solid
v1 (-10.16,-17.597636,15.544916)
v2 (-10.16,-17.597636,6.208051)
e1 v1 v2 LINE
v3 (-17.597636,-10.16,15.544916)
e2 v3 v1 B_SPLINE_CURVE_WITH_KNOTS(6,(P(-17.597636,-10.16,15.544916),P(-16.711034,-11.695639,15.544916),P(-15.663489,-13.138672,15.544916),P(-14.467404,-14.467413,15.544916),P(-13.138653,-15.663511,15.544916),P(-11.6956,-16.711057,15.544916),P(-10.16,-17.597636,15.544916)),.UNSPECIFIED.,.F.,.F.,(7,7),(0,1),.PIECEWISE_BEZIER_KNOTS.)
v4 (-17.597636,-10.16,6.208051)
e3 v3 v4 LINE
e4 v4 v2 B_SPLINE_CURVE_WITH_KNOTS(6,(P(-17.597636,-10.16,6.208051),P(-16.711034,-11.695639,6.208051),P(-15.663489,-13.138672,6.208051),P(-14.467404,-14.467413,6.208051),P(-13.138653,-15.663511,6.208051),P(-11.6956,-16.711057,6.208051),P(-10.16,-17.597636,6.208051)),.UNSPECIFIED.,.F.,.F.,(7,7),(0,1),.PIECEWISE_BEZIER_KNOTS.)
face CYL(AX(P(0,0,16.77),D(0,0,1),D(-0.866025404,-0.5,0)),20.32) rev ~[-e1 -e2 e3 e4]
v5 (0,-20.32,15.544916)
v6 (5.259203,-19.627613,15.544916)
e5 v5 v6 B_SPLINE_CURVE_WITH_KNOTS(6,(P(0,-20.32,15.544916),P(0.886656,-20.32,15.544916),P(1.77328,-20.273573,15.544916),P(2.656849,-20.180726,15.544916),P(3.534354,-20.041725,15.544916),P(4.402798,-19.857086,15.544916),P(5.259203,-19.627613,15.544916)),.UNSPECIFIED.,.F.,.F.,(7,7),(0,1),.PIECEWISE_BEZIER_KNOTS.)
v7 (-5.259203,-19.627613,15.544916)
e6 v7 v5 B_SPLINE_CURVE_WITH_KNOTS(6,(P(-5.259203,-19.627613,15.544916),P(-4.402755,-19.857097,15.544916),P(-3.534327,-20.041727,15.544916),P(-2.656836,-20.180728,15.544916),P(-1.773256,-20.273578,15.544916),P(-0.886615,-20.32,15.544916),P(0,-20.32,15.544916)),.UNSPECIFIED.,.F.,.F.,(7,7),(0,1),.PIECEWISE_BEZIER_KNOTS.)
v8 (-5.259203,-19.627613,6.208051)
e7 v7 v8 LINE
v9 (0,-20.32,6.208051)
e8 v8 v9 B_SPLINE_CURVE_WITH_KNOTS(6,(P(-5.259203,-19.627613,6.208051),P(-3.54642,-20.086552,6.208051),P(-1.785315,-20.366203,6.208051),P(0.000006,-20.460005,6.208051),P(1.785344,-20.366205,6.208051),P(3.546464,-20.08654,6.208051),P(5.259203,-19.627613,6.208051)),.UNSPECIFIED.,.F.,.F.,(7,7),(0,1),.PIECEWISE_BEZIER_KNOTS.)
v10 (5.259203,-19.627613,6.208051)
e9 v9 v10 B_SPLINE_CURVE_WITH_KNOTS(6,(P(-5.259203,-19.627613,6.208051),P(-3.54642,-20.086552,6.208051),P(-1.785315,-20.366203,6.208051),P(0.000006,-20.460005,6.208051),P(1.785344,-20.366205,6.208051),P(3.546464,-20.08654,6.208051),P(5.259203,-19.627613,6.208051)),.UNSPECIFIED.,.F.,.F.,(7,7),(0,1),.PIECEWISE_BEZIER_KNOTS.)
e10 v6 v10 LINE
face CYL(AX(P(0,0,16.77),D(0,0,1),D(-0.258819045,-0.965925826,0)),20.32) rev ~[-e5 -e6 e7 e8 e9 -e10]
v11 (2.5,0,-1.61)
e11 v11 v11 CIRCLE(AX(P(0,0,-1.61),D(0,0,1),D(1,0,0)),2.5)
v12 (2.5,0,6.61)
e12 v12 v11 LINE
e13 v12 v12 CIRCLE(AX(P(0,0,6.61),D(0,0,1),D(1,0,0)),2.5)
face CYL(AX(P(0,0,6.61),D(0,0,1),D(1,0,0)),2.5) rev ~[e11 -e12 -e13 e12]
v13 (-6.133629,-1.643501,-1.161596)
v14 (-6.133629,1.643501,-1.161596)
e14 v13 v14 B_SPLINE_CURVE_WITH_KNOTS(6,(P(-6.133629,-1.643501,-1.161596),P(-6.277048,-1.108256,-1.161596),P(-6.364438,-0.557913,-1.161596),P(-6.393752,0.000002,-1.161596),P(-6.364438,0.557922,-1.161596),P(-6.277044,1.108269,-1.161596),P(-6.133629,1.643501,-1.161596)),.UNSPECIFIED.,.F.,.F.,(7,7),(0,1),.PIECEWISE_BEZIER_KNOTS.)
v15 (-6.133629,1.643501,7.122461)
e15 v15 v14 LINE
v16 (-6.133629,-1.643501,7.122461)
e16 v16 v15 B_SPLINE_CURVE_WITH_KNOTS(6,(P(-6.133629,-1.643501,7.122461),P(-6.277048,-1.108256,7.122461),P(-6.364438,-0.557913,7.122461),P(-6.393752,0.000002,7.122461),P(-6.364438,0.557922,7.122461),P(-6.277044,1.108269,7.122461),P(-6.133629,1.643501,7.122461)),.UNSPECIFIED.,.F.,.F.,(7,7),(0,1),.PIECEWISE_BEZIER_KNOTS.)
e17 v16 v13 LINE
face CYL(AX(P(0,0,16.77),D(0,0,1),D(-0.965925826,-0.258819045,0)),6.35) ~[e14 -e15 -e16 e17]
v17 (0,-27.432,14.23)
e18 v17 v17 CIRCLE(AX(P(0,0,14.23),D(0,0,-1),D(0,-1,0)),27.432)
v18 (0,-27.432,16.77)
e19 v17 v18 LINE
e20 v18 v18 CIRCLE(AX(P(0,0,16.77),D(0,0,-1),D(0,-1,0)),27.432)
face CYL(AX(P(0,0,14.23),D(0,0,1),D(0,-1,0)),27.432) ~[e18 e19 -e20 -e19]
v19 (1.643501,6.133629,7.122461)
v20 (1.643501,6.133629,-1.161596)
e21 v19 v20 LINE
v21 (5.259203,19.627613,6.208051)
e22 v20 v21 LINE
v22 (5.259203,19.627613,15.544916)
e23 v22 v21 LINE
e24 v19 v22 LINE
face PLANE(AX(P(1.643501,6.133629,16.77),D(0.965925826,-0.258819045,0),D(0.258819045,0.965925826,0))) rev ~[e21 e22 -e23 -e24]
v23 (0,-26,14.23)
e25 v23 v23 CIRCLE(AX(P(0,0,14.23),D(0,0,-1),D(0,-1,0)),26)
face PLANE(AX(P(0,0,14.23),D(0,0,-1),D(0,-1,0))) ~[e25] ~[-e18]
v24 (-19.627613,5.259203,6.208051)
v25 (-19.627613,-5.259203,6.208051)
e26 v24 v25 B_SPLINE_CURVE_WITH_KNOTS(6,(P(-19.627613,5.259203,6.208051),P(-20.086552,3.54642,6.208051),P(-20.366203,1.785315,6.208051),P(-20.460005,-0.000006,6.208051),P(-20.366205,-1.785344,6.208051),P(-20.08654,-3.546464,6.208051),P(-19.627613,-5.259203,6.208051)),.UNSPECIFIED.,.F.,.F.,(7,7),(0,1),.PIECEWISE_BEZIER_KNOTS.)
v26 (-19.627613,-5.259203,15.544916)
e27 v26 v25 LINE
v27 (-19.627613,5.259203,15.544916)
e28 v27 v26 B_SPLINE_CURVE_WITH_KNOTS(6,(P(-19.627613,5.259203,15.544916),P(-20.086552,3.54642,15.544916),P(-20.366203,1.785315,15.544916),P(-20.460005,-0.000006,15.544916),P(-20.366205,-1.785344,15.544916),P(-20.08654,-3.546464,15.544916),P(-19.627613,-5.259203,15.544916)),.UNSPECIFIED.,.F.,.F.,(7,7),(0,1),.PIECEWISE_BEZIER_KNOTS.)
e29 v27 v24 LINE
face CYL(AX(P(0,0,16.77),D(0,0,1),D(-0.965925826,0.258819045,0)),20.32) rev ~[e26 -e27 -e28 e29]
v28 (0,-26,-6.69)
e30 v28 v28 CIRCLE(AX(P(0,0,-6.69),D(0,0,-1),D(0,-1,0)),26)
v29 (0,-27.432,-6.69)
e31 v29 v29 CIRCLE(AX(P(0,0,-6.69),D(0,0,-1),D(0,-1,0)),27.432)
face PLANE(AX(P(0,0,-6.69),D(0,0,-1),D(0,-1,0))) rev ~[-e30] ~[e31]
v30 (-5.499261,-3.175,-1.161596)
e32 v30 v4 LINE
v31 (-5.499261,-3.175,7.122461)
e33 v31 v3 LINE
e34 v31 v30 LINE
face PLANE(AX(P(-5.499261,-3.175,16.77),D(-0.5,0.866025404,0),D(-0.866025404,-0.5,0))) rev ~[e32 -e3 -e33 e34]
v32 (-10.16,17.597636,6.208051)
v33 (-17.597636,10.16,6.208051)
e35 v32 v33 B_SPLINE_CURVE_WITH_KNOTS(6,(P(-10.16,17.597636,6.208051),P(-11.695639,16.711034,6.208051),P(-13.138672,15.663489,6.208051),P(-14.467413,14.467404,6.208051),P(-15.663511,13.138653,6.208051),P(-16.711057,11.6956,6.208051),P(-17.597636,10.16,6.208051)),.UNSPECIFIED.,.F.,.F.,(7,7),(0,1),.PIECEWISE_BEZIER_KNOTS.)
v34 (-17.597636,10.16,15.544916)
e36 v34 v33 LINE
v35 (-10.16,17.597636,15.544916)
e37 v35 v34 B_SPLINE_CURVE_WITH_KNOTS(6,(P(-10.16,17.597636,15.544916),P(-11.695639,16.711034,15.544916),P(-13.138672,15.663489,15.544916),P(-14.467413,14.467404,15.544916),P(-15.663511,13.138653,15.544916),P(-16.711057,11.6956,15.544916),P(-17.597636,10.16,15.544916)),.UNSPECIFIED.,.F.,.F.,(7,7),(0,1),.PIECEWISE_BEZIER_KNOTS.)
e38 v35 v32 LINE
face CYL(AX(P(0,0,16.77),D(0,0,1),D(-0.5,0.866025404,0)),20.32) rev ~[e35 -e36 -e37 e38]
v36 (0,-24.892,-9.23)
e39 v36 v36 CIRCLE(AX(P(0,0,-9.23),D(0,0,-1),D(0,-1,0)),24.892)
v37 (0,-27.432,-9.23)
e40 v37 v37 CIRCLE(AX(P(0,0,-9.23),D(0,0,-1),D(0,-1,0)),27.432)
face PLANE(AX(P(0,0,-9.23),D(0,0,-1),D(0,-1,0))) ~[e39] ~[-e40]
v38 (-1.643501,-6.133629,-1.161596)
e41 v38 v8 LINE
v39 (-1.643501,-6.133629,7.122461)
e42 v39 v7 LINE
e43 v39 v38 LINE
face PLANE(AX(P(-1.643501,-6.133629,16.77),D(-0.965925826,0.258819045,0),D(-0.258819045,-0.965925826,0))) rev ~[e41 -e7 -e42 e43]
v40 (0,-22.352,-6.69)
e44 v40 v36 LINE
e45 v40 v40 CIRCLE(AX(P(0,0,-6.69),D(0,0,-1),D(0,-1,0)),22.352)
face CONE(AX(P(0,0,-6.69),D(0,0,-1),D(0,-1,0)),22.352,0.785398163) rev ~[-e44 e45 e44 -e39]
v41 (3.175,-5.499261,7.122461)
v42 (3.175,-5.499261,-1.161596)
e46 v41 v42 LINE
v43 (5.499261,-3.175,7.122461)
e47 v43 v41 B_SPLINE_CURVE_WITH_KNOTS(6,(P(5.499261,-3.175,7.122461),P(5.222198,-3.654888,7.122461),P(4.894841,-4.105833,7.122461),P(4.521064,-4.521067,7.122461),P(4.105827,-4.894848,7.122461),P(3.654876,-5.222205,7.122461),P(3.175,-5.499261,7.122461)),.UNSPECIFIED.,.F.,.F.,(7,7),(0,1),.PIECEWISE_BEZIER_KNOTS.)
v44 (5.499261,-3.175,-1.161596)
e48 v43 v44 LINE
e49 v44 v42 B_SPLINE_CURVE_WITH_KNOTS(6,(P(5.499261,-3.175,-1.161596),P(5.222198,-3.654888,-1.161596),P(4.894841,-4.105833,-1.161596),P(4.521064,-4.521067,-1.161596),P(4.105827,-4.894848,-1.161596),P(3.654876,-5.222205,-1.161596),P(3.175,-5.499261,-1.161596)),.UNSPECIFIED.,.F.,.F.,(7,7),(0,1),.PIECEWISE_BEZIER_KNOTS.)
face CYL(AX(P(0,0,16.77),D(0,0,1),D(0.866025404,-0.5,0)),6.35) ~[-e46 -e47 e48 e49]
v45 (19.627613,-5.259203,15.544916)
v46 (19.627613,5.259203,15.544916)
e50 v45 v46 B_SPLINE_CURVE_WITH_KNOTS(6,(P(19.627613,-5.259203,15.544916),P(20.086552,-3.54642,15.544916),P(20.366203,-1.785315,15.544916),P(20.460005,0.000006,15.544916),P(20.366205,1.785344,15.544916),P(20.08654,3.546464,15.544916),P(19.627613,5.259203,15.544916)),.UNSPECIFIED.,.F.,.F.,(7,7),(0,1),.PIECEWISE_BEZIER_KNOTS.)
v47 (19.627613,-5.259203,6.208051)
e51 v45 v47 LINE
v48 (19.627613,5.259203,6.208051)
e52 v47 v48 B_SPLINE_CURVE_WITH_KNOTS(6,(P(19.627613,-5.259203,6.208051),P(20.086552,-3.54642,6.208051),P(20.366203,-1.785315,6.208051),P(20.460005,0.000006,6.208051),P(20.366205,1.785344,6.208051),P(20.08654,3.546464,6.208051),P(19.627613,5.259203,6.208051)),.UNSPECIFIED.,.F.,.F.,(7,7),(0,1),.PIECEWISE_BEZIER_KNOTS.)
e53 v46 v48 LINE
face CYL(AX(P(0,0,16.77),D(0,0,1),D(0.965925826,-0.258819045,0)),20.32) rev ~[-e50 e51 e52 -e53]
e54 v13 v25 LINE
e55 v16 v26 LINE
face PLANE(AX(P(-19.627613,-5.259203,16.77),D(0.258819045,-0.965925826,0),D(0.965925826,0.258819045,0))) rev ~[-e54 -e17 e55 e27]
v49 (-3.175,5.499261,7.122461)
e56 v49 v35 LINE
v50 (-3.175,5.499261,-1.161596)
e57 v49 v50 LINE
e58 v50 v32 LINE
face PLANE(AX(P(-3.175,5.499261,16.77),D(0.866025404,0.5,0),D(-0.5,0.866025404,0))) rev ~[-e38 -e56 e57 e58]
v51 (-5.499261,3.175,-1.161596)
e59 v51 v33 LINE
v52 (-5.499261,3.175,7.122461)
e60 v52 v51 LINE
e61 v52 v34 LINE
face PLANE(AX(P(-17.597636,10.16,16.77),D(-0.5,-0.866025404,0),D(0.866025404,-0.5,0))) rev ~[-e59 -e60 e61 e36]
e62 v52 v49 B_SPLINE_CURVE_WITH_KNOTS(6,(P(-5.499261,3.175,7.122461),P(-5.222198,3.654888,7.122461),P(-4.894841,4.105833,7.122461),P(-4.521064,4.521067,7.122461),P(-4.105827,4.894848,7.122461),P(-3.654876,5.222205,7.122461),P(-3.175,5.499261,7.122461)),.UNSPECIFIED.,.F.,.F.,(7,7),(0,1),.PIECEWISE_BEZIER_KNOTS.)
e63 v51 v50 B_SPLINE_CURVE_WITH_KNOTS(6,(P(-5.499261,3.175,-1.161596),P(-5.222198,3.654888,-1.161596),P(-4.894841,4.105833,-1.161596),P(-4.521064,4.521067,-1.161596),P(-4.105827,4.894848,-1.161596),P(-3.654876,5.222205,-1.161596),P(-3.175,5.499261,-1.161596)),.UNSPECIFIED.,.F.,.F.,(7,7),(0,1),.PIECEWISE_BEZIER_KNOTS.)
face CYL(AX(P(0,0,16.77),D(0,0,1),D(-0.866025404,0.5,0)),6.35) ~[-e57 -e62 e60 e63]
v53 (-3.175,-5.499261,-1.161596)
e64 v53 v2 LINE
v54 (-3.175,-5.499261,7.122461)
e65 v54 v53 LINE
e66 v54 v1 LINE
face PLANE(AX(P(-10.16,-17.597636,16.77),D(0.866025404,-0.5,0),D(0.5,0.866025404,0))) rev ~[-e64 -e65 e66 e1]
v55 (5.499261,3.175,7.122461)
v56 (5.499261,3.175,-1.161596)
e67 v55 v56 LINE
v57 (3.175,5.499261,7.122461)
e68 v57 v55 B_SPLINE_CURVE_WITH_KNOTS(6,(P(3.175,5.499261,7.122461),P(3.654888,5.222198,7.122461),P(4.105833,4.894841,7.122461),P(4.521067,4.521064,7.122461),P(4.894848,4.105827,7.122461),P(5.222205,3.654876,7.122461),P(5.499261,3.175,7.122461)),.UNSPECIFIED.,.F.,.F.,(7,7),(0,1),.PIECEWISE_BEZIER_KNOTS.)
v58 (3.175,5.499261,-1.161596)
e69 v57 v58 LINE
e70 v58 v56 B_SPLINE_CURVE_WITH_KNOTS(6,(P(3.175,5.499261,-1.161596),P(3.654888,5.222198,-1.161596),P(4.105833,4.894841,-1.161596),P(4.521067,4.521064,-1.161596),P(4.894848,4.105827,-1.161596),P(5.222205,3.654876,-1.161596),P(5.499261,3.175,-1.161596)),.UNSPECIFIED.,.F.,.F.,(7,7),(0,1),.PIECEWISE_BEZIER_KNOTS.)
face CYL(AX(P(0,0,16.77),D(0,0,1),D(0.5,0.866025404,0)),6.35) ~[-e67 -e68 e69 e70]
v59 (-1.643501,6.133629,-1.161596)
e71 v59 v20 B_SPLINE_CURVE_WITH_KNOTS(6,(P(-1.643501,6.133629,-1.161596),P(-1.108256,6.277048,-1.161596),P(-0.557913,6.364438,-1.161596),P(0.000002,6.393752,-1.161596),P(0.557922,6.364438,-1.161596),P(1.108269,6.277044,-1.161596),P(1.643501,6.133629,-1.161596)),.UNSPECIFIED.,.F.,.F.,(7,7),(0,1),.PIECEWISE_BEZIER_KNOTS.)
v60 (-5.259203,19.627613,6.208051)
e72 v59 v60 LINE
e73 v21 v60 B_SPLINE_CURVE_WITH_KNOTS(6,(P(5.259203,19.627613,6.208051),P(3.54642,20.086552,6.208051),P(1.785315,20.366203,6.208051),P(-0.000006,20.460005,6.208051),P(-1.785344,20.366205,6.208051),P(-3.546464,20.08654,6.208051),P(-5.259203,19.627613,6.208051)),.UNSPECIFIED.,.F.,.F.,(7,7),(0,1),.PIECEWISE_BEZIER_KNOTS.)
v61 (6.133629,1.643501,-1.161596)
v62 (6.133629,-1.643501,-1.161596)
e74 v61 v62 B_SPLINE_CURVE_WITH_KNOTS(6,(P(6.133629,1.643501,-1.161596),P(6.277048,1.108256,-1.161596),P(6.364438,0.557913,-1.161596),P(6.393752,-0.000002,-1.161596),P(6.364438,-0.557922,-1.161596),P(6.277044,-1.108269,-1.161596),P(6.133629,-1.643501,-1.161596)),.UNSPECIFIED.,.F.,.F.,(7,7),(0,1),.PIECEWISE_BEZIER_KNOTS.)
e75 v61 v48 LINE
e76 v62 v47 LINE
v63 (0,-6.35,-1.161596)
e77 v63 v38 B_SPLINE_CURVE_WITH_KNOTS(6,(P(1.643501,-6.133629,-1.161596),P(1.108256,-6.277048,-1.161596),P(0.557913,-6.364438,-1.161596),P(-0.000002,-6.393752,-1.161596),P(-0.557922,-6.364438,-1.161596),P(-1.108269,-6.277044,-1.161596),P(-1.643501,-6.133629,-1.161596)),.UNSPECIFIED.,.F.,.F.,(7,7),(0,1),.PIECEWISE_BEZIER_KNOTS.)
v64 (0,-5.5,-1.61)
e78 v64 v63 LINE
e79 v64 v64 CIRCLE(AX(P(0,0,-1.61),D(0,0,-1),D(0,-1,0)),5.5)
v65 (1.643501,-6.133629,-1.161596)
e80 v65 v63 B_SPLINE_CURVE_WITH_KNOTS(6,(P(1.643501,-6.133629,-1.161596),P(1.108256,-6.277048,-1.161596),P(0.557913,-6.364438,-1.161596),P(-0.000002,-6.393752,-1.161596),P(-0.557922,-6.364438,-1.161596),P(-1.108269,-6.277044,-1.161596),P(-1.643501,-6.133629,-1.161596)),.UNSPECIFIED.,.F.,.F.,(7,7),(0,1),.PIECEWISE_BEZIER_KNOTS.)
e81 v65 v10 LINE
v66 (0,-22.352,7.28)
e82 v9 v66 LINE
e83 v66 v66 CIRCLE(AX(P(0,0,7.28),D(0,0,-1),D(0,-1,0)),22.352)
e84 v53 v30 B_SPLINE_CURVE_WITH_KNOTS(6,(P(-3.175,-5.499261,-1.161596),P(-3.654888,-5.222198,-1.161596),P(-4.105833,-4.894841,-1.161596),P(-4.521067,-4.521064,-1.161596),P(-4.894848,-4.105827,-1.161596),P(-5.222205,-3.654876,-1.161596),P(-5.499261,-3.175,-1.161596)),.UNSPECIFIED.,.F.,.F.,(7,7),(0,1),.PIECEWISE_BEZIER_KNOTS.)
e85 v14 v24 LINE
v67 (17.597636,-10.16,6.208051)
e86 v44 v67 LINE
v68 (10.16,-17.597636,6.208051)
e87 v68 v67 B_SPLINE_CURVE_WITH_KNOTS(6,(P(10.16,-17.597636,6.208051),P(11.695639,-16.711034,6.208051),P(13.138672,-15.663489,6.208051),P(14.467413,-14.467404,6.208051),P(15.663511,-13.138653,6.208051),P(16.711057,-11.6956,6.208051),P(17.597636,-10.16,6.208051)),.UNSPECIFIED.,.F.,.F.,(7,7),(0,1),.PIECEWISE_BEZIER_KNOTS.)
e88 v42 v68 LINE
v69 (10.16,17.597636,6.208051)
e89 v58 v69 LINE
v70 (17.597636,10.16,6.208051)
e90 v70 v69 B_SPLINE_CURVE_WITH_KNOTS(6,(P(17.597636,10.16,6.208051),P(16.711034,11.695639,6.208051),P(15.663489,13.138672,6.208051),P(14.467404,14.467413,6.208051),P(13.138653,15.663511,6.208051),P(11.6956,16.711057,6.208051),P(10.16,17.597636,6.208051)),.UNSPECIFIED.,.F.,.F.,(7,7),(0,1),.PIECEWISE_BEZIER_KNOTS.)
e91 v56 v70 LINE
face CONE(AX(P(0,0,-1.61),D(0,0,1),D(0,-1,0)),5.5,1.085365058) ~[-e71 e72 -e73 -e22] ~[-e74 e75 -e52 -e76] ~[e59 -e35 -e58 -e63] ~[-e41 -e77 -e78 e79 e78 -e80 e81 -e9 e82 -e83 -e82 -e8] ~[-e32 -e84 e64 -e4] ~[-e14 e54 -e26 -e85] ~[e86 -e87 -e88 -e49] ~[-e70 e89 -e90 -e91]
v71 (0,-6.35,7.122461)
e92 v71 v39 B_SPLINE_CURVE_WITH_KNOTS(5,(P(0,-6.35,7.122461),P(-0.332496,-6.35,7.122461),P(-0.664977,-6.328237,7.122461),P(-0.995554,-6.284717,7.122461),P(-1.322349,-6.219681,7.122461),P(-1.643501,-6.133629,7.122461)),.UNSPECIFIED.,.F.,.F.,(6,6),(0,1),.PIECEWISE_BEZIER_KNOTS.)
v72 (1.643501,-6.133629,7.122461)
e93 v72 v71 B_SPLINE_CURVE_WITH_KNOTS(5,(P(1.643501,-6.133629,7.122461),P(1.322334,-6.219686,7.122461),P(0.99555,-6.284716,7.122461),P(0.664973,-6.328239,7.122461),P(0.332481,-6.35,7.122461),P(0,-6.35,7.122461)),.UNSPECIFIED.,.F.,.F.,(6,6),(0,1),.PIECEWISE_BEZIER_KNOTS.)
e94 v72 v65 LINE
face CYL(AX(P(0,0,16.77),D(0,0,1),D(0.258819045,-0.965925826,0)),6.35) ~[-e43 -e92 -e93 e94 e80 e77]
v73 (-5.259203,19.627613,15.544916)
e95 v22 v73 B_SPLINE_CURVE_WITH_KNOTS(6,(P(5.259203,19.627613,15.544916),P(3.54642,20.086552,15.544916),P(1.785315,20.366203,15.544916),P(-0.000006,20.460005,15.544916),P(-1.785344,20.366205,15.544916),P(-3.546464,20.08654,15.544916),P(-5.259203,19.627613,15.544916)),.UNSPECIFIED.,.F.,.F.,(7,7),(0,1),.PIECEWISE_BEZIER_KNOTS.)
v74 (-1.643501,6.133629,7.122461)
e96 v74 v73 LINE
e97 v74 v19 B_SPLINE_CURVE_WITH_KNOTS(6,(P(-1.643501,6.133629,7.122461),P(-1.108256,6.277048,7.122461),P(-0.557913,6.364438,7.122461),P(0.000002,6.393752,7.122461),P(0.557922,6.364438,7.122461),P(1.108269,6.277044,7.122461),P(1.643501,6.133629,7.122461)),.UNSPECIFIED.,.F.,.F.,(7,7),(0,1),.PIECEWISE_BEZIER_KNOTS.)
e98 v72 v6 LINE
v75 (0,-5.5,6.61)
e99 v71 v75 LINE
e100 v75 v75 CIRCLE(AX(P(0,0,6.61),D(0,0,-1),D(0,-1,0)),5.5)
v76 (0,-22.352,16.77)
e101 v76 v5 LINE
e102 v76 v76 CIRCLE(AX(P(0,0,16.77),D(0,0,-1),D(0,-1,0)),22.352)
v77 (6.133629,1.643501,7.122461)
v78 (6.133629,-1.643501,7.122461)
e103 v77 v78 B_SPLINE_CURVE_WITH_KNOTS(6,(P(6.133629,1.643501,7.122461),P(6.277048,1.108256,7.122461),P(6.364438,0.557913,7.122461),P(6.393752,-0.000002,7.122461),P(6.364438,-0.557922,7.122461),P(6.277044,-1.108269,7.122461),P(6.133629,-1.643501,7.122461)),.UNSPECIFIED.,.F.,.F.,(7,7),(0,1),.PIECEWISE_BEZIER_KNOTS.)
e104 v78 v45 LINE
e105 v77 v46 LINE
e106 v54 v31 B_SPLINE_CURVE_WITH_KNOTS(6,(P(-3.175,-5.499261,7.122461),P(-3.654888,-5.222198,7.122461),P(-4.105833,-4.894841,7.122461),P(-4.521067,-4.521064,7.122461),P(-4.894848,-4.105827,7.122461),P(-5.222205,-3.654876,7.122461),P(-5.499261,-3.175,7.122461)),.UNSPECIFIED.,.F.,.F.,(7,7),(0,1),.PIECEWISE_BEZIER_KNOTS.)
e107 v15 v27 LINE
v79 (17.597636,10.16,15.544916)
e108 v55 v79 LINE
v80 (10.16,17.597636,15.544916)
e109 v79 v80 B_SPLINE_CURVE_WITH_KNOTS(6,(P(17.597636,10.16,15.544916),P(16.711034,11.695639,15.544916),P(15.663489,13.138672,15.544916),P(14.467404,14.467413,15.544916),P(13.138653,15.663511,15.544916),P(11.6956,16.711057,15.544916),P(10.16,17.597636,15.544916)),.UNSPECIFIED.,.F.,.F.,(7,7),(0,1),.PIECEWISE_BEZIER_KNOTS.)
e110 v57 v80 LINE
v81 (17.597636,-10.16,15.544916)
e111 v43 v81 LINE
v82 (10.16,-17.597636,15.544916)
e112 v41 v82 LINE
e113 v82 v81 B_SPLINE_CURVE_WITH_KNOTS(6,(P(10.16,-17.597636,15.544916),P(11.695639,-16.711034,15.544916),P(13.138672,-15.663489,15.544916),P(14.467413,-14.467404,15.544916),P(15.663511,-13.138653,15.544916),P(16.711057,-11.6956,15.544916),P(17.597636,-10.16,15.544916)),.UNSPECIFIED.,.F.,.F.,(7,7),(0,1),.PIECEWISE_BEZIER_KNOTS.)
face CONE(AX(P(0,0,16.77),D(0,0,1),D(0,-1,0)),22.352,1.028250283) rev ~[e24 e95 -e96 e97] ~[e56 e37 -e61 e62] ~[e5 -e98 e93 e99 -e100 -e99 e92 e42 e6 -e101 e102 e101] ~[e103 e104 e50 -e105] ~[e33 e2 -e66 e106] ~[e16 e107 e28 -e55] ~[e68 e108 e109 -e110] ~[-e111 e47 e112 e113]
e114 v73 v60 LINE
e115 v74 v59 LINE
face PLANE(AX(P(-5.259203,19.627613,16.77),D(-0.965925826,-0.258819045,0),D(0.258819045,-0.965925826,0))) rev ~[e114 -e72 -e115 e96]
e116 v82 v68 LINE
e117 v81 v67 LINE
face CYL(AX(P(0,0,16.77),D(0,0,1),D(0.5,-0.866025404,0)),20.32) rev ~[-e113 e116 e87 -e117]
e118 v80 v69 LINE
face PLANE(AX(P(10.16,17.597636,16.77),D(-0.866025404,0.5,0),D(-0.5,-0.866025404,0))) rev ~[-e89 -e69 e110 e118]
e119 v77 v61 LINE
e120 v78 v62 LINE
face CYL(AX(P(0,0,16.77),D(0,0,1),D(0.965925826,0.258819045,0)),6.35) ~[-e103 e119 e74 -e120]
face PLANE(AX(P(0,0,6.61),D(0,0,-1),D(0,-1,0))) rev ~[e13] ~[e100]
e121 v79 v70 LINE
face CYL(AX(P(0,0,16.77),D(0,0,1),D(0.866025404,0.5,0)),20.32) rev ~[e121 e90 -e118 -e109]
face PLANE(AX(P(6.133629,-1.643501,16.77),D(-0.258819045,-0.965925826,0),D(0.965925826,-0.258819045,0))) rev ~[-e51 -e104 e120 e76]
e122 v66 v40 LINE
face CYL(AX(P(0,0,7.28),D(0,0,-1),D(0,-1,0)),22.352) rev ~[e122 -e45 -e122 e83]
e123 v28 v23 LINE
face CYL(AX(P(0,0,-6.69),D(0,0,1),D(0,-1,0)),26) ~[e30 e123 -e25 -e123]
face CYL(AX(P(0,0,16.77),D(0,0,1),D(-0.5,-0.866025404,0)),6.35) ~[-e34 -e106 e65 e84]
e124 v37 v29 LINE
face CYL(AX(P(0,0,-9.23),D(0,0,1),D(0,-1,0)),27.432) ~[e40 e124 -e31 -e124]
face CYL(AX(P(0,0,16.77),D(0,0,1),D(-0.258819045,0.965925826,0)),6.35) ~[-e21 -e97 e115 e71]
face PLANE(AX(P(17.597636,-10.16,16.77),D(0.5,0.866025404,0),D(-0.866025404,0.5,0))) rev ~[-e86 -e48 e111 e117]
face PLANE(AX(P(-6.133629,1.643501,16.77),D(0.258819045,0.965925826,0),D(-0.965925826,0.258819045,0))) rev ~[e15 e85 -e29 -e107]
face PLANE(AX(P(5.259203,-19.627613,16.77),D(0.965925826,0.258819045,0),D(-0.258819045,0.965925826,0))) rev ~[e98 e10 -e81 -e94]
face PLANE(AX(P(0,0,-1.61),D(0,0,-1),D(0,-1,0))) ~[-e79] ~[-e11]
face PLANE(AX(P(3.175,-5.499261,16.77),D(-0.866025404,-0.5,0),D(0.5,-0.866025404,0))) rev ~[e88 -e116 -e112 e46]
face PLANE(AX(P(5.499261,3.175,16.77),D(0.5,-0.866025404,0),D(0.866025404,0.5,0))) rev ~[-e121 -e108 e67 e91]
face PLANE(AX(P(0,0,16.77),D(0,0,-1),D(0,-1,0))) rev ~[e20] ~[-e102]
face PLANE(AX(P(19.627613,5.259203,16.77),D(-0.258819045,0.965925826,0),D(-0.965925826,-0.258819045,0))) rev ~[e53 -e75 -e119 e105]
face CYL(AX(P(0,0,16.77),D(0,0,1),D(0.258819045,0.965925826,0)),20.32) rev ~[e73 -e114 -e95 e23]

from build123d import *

# Parameters (mm, degrees)
CUT_EXTRUDE1_REACH = 48.701
CIRPATTERN1_COUNT  = 8
CHAMFER1_SIZE      = 2.54
CUT_EXTRUDE2_REACH = 43.904
SKETCH3_R          = 2.5


with BuildPart() as part:
    # Sketch1 → Revolve1 (revolve)
    with BuildSketch(Plane(origin=(0, 0, 0), x_dir=(0, 0, -1), z_dir=(1, 0, 0)), mode=Mode.PRIVATE) as revolve1_sk:
        Polygon((-6.61, 0), (1.61, 0), (1.61, 2.6), (1.61, 5.5), (-7.28, 22.352), (9.23, 22.352), (9.23, 27.432), (6.69, 27.432), (6.69, 26), (-14.23, 26), (-14.23, 27.432), (-16.77, 27.432), (-16.77, 22.352), (-6.61, 5.5), align=None)
    revolve(revolve1_sk.sketch.rotate(Axis((0, 0, 6.61), (0, 0, -1)), 180), axis=Axis((0, 0, 6.61), (0, 0, -1)))

    # Cut-Extrude1: up to this cone (the profile starts inside it)
    cut_extrude1_end = Plane(origin=(0, 0, 16.77), z_dir=(0, 0, 1)).offset(-21.281435031) * Cone(1.896e-06, 210.079048668, 110.82380286, align=(Align.CENTER, Align.CENTER, Align.MIN), mode=Mode.PRIVATE)
    # Sketch2 → Cut-Extrude1 (cut, up to the surface)
    with BuildSketch(Plane.XY.offset(16.77), mode=Mode.PRIVATE) as cut_extrude1_sk1:
        with BuildLine():
            Line((-5.259202996, 19.62761279), (-1.643500936, 6.133628997))
            ThreePointArc((-1.643500936, 6.133628997), (0, 6.35), (1.643500936, 6.133628997))
            Line((1.643500936, 6.133628997), (5.259202996, 19.62761279))
            ThreePointArc((5.259202996, 19.62761279), (0, 20.32), (-5.259202996, 19.62761279))
        make_face()
    cut_extrude1_tool1 = extrude(cut_extrude1_sk1.sketch, amount=-CUT_EXTRUDE1_REACH, mode=Mode.PRIVATE) & cut_extrude1_end
    cut_extrude1 = cut_extrude1_tool1.solids().sort_by_distance((0, 14.388913, 16.77))[0]
    add(cut_extrude1, mode=Mode.SUBTRACT)

    # CirPattern1: Cut-Extrude1 ×8 about axis
    cirpattern1_axis = Axis((0, 0, 0), (0, 0, 1))
    for i in range(1, CIRPATTERN1_COUNT):
        add(cut_extrude1.rotate(cirpattern1_axis, i * 360 / CIRPATTERN1_COUNT), mode=Mode.SUBTRACT)

    # Chamfer1
    chamfer1_edges = [part.edges().sort_by_distance(p)[0] for p in [
        (0, 22.352, -9.23),
    ]]
    chamfer(chamfer1_edges, length=CHAMFER1_SIZE)

    # Sketch3 → Cut-Extrude2 (cut, up to next)
    with BuildSketch(Plane.XY.offset(6.61), mode=Mode.PRIVATE) as cut_extrude2_sk1:
        Circle(SKETCH3_R)
    cut_extrude2_tool1 = extrude(cut_extrude2_sk1.sketch, amount=-CUT_EXTRUDE2_REACH, mode=Mode.PRIVATE) & part.part
    add(cut_extrude2_tool1.solids().sort_by_distance((0, 0, 6.61))[0], mode=Mode.SUBTRACT)


solid = part.part
